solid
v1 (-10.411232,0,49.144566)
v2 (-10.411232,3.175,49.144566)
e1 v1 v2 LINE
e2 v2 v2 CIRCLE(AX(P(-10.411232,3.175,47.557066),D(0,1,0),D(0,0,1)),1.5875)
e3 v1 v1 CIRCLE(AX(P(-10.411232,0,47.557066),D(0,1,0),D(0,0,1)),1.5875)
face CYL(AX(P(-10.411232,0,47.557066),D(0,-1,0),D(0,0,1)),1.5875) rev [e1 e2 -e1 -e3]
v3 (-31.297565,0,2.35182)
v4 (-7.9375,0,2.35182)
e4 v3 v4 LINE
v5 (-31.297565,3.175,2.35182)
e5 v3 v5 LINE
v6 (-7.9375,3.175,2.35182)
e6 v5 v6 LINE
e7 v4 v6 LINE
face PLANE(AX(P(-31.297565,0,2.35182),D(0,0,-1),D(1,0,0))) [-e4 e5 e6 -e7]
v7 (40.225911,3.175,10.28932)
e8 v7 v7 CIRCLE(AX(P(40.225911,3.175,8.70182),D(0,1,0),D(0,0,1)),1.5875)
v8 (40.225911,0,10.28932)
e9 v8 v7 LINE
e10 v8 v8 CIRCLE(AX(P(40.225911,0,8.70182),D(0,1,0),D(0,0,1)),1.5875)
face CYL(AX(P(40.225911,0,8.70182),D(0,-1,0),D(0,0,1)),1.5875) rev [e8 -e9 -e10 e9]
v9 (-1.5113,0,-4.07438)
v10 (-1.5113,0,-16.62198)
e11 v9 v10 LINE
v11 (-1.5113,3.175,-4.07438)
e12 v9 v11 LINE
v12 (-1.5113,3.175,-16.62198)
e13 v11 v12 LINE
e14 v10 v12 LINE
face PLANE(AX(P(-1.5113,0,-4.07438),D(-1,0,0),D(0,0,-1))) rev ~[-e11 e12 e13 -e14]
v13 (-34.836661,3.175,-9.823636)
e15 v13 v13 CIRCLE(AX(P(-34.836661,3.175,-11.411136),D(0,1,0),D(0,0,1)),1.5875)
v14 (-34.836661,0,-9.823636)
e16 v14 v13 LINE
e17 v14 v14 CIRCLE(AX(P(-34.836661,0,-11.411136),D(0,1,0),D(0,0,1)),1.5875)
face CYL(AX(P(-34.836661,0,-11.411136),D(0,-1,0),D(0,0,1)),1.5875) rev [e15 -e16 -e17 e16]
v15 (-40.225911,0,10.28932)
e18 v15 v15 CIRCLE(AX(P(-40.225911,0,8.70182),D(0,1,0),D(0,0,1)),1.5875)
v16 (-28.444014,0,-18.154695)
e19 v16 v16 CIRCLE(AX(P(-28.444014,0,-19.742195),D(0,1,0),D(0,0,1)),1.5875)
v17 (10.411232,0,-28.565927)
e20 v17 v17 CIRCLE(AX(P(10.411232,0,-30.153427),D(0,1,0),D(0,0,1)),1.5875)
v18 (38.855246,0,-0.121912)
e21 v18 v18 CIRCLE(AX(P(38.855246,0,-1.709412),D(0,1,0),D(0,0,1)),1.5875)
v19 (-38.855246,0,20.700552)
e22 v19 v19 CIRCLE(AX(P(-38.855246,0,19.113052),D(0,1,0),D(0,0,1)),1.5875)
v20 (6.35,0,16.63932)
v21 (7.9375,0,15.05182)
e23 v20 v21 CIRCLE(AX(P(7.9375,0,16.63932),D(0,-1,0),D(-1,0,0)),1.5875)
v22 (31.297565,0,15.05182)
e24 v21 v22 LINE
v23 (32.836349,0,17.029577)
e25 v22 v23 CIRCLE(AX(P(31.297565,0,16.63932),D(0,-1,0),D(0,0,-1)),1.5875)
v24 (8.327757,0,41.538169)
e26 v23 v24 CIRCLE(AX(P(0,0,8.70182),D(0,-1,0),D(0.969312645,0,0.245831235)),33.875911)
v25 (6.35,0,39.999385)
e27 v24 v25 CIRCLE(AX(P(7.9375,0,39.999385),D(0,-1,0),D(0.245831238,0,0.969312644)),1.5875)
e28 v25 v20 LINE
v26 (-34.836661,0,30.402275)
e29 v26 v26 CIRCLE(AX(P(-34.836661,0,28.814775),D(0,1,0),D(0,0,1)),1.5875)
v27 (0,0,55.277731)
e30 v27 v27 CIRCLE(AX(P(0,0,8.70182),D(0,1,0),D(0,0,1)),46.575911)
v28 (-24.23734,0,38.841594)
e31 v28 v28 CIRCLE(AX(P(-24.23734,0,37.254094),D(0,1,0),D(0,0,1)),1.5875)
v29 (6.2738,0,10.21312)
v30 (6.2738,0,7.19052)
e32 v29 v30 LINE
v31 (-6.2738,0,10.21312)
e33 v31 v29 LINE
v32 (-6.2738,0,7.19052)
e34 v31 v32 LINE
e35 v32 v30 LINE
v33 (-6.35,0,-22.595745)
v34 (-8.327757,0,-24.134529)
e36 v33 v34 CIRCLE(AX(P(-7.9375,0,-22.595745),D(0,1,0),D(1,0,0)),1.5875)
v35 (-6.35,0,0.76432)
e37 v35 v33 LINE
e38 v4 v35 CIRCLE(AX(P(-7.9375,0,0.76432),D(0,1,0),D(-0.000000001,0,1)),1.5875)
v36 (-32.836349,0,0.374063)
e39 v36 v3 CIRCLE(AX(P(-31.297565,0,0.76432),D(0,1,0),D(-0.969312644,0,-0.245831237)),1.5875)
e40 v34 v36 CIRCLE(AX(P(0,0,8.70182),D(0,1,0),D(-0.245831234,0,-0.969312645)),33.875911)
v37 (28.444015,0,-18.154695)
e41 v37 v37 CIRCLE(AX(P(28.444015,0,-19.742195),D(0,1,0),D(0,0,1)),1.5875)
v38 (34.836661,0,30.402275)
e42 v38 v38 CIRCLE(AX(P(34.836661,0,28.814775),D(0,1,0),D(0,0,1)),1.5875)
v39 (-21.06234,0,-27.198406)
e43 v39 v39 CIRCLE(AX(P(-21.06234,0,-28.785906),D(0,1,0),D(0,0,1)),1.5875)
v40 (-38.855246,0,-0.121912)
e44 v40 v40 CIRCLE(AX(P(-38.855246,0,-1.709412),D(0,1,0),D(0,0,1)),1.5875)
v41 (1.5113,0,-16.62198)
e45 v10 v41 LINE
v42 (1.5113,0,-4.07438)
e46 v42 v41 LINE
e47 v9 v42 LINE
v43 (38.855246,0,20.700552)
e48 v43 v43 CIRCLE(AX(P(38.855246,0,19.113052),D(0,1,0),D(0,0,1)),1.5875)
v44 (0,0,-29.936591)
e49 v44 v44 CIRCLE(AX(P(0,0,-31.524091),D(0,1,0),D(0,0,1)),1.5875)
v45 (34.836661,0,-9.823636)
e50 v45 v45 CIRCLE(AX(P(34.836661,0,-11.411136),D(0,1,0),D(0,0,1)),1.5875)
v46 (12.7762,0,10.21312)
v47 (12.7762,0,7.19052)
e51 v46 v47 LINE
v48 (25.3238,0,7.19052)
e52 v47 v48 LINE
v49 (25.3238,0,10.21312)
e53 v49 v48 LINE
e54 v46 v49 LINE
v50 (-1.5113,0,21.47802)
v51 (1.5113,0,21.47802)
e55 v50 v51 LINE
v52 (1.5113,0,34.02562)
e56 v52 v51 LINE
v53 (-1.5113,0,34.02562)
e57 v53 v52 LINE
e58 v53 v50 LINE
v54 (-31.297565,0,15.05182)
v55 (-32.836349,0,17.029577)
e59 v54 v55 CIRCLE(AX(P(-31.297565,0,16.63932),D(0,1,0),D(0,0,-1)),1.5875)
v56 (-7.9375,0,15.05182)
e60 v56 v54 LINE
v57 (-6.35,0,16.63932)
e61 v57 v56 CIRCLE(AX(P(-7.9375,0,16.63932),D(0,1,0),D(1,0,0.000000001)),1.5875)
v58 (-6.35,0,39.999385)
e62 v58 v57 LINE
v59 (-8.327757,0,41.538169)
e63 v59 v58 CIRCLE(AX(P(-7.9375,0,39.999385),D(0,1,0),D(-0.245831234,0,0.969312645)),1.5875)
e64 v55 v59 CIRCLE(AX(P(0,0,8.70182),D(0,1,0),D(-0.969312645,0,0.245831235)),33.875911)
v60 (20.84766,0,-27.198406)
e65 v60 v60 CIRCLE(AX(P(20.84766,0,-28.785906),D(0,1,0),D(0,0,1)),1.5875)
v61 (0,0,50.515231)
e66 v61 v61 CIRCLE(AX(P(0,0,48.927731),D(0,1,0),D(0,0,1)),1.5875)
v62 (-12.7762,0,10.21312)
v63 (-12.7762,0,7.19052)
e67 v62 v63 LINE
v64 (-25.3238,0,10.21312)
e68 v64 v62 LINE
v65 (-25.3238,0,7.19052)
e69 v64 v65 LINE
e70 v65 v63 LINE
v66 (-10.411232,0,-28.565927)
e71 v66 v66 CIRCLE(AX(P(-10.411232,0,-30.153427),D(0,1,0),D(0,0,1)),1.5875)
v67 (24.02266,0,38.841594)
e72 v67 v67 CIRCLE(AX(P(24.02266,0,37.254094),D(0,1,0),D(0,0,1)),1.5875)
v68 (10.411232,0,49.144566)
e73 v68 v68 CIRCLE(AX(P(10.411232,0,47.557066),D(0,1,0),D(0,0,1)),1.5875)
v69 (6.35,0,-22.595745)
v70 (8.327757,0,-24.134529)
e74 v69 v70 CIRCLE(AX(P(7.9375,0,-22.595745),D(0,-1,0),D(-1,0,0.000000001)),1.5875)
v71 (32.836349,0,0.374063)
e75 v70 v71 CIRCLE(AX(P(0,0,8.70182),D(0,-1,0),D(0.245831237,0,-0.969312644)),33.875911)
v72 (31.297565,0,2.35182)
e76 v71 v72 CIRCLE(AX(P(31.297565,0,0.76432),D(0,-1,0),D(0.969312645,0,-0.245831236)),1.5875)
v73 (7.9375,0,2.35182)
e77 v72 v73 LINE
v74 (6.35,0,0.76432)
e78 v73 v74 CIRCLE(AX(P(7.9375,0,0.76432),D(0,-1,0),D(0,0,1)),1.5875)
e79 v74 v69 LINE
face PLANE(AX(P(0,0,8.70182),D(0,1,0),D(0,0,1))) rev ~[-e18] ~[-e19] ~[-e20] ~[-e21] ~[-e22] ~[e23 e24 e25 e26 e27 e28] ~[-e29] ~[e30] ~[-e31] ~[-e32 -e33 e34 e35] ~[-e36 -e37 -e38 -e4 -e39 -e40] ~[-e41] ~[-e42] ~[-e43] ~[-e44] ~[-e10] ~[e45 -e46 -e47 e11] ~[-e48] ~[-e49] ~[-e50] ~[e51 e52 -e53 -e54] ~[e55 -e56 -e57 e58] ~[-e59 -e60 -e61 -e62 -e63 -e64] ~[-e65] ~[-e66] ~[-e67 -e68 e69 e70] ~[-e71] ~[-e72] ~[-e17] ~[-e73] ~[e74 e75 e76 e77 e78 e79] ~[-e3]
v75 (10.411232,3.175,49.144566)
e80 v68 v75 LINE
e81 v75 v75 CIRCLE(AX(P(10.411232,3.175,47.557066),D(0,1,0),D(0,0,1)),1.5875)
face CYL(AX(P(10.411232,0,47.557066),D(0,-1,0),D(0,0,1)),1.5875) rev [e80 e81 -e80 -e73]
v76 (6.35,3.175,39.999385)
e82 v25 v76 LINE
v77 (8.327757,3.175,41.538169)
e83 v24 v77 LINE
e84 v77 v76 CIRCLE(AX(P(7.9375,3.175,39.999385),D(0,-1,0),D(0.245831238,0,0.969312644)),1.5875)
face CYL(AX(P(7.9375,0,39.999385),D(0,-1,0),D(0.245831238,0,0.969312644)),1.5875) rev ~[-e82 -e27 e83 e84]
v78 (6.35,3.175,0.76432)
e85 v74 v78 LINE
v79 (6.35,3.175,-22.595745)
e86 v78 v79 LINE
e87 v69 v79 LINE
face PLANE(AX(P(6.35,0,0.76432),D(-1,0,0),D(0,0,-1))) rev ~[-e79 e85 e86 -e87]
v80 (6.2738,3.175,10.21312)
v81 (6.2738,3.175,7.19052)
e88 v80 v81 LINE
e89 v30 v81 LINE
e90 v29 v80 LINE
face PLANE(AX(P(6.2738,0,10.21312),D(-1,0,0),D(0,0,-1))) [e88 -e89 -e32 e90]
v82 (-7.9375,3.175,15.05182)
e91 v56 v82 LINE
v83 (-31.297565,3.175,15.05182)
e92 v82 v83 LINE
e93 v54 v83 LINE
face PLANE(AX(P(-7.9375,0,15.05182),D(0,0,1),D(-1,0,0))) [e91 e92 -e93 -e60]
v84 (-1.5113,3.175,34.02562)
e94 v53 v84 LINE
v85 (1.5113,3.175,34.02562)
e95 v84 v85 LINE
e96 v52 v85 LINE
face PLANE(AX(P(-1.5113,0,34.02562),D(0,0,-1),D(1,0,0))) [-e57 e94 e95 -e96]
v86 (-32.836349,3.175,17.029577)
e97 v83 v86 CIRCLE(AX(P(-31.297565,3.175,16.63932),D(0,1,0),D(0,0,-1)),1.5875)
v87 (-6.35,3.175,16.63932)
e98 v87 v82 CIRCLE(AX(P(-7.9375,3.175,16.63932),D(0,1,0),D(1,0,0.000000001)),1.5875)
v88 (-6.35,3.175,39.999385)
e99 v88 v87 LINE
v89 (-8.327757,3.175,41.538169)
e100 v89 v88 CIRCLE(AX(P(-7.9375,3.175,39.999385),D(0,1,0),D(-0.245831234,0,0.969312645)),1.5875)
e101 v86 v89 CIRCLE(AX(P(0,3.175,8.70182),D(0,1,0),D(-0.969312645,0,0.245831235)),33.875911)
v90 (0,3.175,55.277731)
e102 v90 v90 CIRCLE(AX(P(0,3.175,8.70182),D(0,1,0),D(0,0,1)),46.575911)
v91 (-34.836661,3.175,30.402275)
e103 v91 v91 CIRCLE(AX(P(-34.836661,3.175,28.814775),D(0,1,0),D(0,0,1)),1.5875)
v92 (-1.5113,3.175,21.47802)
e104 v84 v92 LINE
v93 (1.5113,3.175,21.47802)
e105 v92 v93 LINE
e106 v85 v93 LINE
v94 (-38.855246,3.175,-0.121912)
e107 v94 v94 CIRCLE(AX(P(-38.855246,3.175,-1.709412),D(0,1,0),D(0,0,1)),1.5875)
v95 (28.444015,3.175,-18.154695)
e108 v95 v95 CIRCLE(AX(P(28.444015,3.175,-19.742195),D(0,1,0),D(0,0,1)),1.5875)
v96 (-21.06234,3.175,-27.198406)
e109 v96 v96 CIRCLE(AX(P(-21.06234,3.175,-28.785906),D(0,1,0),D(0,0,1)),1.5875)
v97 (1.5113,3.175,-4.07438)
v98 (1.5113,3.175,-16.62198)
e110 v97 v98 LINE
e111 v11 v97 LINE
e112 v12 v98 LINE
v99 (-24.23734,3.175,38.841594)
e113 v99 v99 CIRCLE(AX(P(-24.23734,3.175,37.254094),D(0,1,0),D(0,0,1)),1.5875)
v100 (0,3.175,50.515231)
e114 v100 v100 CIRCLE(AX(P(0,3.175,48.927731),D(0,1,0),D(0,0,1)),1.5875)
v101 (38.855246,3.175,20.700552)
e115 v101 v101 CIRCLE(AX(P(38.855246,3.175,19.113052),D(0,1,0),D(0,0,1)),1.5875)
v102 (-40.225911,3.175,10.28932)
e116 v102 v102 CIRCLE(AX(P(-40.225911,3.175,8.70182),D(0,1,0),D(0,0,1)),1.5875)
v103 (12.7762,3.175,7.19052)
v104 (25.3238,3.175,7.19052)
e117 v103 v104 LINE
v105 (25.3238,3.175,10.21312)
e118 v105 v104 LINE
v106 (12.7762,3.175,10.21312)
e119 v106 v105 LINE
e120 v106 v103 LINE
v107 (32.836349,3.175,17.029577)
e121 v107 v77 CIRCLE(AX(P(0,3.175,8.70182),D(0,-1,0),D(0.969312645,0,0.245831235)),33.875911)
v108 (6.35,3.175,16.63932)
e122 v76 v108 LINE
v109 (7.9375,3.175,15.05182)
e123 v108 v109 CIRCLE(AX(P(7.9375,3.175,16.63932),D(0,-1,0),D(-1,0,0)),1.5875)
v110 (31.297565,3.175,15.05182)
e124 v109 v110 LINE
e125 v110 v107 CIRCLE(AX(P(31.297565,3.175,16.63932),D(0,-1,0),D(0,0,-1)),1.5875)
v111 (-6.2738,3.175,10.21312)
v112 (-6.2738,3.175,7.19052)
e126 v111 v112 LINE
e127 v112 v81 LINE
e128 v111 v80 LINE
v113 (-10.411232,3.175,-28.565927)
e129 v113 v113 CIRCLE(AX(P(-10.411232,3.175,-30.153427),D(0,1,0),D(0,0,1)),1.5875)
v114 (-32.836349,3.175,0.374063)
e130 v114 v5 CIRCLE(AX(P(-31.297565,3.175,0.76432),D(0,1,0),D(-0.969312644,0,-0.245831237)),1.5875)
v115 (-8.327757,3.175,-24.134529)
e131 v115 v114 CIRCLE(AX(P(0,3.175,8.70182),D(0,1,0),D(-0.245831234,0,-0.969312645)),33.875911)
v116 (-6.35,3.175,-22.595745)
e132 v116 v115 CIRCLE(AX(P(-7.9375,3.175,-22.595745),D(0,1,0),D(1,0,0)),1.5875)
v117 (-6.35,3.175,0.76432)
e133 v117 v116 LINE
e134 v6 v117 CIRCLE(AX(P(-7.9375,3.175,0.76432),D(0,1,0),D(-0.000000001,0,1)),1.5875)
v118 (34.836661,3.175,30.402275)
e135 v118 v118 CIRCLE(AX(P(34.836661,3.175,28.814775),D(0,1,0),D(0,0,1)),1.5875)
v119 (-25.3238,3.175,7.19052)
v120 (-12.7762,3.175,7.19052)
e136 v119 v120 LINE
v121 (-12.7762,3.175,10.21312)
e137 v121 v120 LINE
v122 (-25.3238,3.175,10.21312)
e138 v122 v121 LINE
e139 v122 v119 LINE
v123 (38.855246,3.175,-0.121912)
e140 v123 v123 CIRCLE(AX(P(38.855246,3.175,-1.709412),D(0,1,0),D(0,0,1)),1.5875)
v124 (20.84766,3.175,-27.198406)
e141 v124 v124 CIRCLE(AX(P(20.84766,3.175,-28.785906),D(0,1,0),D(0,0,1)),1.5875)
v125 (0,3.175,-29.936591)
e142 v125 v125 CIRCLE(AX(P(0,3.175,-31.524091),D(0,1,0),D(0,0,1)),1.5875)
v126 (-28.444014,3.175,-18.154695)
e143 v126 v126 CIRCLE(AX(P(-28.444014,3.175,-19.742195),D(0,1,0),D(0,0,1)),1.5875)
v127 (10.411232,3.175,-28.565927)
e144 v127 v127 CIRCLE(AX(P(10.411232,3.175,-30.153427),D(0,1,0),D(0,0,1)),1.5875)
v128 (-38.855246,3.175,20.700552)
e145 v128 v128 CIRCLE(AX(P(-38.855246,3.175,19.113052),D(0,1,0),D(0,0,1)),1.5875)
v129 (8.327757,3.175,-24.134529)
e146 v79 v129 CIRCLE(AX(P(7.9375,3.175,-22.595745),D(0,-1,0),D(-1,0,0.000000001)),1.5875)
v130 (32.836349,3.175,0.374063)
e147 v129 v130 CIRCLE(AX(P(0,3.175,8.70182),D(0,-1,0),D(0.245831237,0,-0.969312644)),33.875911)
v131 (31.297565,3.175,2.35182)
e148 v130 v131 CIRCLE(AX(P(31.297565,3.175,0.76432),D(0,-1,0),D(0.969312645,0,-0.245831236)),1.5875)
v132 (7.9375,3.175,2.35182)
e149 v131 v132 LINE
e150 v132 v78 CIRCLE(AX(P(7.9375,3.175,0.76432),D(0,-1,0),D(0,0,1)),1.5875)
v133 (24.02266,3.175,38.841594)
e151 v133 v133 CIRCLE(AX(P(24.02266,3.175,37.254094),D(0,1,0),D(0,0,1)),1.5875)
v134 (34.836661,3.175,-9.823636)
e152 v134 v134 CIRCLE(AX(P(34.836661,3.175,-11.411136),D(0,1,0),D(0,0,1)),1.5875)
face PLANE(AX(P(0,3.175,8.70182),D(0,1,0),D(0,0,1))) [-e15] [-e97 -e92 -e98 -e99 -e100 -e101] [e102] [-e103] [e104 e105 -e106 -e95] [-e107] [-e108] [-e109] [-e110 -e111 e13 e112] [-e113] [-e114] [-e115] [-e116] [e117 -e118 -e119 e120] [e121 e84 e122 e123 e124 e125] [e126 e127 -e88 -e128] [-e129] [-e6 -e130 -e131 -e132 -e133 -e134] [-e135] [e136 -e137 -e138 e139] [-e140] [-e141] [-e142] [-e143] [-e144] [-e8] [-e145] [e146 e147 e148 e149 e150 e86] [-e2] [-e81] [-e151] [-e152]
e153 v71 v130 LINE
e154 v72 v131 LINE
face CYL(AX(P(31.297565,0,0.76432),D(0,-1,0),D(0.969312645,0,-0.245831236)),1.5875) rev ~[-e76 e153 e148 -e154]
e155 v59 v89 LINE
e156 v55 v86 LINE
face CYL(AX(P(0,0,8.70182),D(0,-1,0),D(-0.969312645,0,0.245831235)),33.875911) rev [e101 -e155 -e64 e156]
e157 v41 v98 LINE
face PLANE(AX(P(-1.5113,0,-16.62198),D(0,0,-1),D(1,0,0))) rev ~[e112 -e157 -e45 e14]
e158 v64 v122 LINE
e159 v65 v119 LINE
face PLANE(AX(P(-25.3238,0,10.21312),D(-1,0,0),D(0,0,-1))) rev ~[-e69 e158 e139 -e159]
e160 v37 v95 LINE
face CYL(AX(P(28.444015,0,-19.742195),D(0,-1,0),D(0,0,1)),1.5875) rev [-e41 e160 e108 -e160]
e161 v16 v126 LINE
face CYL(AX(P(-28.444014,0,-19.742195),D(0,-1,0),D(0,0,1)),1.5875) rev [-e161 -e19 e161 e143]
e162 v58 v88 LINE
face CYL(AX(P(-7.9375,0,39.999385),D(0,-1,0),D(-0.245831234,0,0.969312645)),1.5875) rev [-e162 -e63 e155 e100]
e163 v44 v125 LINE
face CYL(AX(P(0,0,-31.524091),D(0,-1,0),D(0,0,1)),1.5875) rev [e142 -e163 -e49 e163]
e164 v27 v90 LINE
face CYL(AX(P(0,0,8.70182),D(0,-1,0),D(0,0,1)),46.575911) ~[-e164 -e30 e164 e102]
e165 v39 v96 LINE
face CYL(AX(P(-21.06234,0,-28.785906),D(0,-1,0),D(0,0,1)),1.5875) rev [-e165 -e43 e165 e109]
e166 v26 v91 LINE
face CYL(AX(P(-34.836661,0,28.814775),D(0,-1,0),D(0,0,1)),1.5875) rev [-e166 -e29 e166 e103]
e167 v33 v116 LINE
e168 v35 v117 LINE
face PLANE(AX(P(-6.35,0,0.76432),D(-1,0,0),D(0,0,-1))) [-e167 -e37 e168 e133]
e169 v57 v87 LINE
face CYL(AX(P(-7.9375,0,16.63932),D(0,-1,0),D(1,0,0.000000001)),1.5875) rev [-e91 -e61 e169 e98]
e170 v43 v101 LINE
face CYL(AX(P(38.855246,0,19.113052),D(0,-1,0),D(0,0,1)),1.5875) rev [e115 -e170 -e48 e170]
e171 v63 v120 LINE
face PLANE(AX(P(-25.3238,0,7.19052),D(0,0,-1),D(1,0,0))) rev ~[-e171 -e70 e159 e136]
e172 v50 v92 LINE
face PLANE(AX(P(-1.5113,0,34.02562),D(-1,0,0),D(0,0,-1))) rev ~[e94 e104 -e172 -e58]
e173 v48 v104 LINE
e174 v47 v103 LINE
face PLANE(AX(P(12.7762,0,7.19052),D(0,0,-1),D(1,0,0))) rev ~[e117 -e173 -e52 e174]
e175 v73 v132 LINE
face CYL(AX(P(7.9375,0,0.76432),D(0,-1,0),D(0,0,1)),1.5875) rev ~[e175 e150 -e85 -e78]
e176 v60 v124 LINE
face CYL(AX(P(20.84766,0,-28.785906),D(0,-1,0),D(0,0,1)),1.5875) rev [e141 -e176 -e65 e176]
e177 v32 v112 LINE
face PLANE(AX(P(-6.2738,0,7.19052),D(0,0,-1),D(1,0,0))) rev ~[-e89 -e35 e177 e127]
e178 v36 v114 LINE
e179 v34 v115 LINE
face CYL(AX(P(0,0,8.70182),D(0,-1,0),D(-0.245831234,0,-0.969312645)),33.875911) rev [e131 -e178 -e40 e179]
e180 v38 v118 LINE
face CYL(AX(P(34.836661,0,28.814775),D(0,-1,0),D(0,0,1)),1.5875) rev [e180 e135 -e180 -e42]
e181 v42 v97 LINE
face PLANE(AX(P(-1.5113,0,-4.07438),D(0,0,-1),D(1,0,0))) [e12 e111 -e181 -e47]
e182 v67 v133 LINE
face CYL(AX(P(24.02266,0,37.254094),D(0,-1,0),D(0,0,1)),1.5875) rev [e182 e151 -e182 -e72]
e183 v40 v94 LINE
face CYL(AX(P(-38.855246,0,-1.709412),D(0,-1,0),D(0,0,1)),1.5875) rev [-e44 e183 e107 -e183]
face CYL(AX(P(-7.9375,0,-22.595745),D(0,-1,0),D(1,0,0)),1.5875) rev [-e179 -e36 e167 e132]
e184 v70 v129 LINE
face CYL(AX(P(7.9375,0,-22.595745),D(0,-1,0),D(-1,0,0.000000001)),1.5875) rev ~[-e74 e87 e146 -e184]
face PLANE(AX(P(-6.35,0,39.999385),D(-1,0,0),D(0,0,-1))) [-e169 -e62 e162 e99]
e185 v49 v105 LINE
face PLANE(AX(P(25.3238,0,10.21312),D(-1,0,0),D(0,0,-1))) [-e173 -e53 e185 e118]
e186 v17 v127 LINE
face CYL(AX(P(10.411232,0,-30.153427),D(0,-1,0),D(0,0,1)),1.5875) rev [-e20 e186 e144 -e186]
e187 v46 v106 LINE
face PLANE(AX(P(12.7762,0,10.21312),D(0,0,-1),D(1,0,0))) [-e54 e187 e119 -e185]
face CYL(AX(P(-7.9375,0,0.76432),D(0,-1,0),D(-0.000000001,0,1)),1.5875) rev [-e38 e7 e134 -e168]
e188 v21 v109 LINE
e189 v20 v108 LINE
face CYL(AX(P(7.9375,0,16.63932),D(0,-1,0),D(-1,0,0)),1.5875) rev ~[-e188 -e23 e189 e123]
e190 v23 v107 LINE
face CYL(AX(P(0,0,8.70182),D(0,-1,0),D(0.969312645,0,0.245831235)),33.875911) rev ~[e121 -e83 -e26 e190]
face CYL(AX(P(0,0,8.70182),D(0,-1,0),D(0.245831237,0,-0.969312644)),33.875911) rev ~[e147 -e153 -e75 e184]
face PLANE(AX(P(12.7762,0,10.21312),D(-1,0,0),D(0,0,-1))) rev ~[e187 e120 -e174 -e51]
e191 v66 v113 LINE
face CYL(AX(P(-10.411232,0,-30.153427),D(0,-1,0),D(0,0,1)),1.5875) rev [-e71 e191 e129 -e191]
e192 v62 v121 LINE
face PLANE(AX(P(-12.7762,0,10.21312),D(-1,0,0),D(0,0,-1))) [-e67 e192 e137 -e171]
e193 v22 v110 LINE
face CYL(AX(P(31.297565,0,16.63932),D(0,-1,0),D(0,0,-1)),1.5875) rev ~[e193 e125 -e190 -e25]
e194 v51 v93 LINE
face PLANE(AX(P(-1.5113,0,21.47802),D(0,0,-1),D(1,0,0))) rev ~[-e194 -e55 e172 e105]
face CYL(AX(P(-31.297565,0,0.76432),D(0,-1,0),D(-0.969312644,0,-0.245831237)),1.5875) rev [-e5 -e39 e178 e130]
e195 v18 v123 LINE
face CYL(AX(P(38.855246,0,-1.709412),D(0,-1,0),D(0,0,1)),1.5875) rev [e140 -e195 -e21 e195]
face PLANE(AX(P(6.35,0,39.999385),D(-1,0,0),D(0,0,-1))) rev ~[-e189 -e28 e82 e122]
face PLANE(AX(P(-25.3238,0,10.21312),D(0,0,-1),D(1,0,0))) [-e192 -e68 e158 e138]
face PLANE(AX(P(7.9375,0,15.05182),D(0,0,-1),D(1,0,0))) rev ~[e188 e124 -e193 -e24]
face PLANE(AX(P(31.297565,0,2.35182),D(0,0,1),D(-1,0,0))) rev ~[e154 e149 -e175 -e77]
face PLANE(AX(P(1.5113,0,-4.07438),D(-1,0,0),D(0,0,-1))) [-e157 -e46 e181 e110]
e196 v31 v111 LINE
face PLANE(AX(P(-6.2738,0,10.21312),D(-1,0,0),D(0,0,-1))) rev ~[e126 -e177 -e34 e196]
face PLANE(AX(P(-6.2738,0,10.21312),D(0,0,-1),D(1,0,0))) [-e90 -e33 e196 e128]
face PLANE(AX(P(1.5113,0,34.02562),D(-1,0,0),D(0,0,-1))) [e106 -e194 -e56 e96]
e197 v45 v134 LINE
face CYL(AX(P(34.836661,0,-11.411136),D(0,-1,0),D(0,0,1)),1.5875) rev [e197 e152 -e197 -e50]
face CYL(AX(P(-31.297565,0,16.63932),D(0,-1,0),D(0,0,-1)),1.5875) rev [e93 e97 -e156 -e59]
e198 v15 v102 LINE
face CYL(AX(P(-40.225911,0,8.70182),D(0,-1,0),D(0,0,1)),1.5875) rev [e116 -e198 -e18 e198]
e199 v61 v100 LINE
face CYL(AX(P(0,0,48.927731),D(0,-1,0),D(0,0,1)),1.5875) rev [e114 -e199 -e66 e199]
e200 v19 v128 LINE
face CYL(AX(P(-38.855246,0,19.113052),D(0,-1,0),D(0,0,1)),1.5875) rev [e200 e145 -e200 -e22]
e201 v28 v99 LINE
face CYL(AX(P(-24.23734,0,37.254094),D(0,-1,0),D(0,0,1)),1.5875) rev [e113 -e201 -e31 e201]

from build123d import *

# Parameters (mm, degrees)
SKETCH1_R           = 46.575911091
SKETCH1_R_2         = 1.587499996
SKETCH1_R_3         = 1.5875
SKETCH1_W           = 3.0226
SKETCH1_H           = 12.5476
SKETCH1_W_2         = 12.5476
SKETCH1_H_2         = 3.0226
SKETCH1_W_3         = 12.547600011
BOSS_EXTRUDE1_DEPTH = 3.175


with BuildPart() as part:
    # Sketch1 → Boss-Extrude1 (new body)
    with BuildSketch(Plane(origin=(0, 0, 0), x_dir=(1, 0, 0), z_dir=(0, 1, 0))):
        with Locations(Location((2.7e-08, -8.701819877, 0), (0, 0, 270))):
            Circle(SKETCH1_R)
        with Locations(Location((3e-08, 31.524091213, 0), (0, 0, 270))):
            Circle(SKETCH1_R_2, mode=Mode.SUBTRACT)
        with Locations(Location((-21.062340002, 28.785905516, 0), (0, 0, 270))):
            Circle(SKETCH1_R_3, mode=Mode.SUBTRACT)
        with Locations(Location((20.847659998, 28.785905516, 0), (0, 0, 270))):
            Circle(SKETCH1_R_3, mode=Mode.SUBTRACT)
        with Locations(Location((24.022659998, -37.254094484, 0), (0, 0, 270))):
            Circle(SKETCH1_R_3, mode=Mode.SUBTRACT)
        with Locations(Location((-24.237340002, -37.254094484, 0), (0, 0, 270))):
            Circle(SKETCH1_R_3, mode=Mode.SUBTRACT)
        with Locations(Location((10.411231927, 30.15342653, 0), (0, 0, 270))):
            Circle(SKETCH1_R_2, mode=Mode.SUBTRACT)
        with Locations(Location((28.444014541, 19.742194633, 0), (0, 0, 270))):
            Circle(SKETCH1_R_2, mode=Mode.SUBTRACT)
        with Locations(Location((34.836660923, 11.411135666, 0), (0, 0, 270))):
            Circle(SKETCH1_R_2, mode=Mode.SUBTRACT)
        with Locations(Location((38.855246436, 1.709412017, 0), (0, 0, 270))):
            Circle(SKETCH1_R_2, mode=Mode.SUBTRACT)
        with Locations(Location((40.225911118, -8.70181988, 0), (0, 0, 270))):
            Circle(SKETCH1_R_2, mode=Mode.SUBTRACT)
        with Locations(Location((38.855246435, -19.113051776, 0), (0, 0, 270))):
            Circle(SKETCH1_R_2, mode=Mode.SUBTRACT)
        with Locations(Location((34.836660921, -28.814775424, 0), (0, 0, 270))):
            Circle(SKETCH1_R_2, mode=Mode.SUBTRACT)
        with Locations(Location((10.411231922, -47.557066286, 0), (0, 0, 270))):
            Circle(SKETCH1_R_2, mode=Mode.SUBTRACT)
        with Locations(Location((2.5e-08, -48.927730968, 0), (0, 0, 270))):
            Circle(SKETCH1_R_2, mode=Mode.SUBTRACT)
        with Locations(Location((-10.411231872, -47.557066285, 0), (0, 0, 270))):
            Circle(SKETCH1_R_2, mode=Mode.SUBTRACT)
        with Locations(Location((-34.836660868, -28.81477542, 0), (0, 0, 270))):
            Circle(SKETCH1_R_2, mode=Mode.SUBTRACT)
        with Locations(Location((-38.855246381, -19.113051772, 0), (0, 0, 270))):
            Circle(SKETCH1_R_2, mode=Mode.SUBTRACT)
        with Locations(Location((-40.225911063, -8.701819875, 0), (0, 0, 270))):
            Circle(SKETCH1_R_2, mode=Mode.SUBTRACT)
        with Locations(Location((-38.85524638, 1.709412022, 0), (0, 0, 270))):
            Circle(SKETCH1_R_2, mode=Mode.SUBTRACT)
        with Locations(Location((-34.836660866, 11.41113567, 0), (0, 0, 270))):
            Circle(SKETCH1_R_2, mode=Mode.SUBTRACT)
        with Locations(Location((-28.444014482, 19.742194636, 0), (0, 0, 270))):
            Circle(SKETCH1_R_2, mode=Mode.SUBTRACT)
        with Locations(Location((-10.411231867, 30.153426532, 0), (0, 0, 270))):
            Circle(SKETCH1_R_2, mode=Mode.SUBTRACT)
        with BuildLine():
            Line((-6.349999989, -39.99938507), (-6.349999989, -16.639319886))
            ThreePointArc((-6.349999989, -16.639319886), (-6.814967973, -15.516787871), (-7.937499989, -15.051819886))
            Line((-7.937499989, -15.051819886), (-31.2975652, -15.051819886))
            ThreePointArc((-31.2975652, -15.051819886), (-32.55049963, -15.664480636), (-32.836349023, -17.029576972))
            ThreePointArc((-32.836349023, -17.029576972), (-23.953886478, -32.655706367), (-8.327757073, -41.538168895))
            ThreePointArc((-8.327757073, -41.538168895), (-6.962660738, -41.2523195), (-6.349999989, -39.99938507))
        make_face(mode=Mode.SUBTRACT)
        with Locations((1e-09, 10.348180116)):
            Rectangle(SKETCH1_W, SKETCH1_H, mode=Mode.SUBTRACT)
        with BuildLine():
            Line((6.350000022, -39.999385045), (6.350000022, -16.639319886))
            ThreePointArc((6.350000022, -16.639319886), (6.814968007, -15.516787871), (7.937500022, -15.051819886))
            Line((7.937500022, -15.051819886), (31.297565134, -15.051819886))
            ThreePointArc((31.297565134, -15.051819886), (32.550499564, -15.664480636), (32.836348958, -17.029576972))
            ThreePointArc((32.836348958, -17.029576972), (23.95388645, -32.655706329), (8.327757111, -41.538168868))
            ThreePointArc((8.327757111, -41.538168868), (6.962660773, -41.252319477), (6.350000022, -39.999385045))
        make_face(mode=Mode.SUBTRACT)
        with BuildLine():
            Line((-31.297565195, -2.351819884), (-7.937499989, -2.351819884))
            ThreePointArc((-7.937499989, -2.351819884), (-6.814967973, -1.886851899), (-6.349999989, -0.764319884))
            Line((-6.349999989, -0.764319884), (-6.349999989, 22.595745281))
            ThreePointArc((-6.349999989, 22.595745281), (-6.962660738, 23.848679711), (-8.327757073, 24.134529106))
            ThreePointArc((-8.327757073, 24.134529106), (-23.953886471, 15.252066585), (-32.836349018, -0.374062797))
            ThreePointArc((-32.836349018, -0.374062797), (-32.550499626, -1.739159134), (-31.297565195, -2.351819884))
        make_face(mode=Mode.SUBTRACT)
        with Locations((-19.049999999, -8.701819874)):
            Rectangle(SKETCH1_W_2, SKETCH1_H_2, mode=Mode.SUBTRACT)
        with Locations((1.7e-08, -8.701819874)):
            Rectangle(SKETCH1_W_3, SKETCH1_H_2, mode=Mode.SUBTRACT)
        with Locations((19.050000001, -8.701819874)):
            Rectangle(SKETCH1_W_2, SKETCH1_H_2, mode=Mode.SUBTRACT)
        with Locations((1e-09, -27.751819886)):
            Rectangle(SKETCH1_W, SKETCH1_H, mode=Mode.SUBTRACT)
        with BuildLine():
            Line((6.350000022, -0.764319884), (6.350000022, 22.595745256))
            ThreePointArc((6.350000022, 22.595745256), (6.962660773, 23.848679688), (8.327757111, 24.134529079))
            ThreePointArc((8.327757111, 24.134529079), (23.953886443, 15.252066547), (32.836348953, -0.374062797))
            ThreePointArc((32.836348953, -0.374062797), (32.55049956, -1.739159134), (31.297565129, -2.351819884))
            Line((31.297565129, -2.351819884), (7.937500022, -2.351819884))
            ThreePointArc((7.937500022, -2.351819884), (6.814968007, -1.886851899), (6.350000022, -0.764319884))
        make_face(mode=Mode.SUBTRACT)
    extrude(amount=BOSS_EXTRUDE1_DEPTH)


solid = part.part
